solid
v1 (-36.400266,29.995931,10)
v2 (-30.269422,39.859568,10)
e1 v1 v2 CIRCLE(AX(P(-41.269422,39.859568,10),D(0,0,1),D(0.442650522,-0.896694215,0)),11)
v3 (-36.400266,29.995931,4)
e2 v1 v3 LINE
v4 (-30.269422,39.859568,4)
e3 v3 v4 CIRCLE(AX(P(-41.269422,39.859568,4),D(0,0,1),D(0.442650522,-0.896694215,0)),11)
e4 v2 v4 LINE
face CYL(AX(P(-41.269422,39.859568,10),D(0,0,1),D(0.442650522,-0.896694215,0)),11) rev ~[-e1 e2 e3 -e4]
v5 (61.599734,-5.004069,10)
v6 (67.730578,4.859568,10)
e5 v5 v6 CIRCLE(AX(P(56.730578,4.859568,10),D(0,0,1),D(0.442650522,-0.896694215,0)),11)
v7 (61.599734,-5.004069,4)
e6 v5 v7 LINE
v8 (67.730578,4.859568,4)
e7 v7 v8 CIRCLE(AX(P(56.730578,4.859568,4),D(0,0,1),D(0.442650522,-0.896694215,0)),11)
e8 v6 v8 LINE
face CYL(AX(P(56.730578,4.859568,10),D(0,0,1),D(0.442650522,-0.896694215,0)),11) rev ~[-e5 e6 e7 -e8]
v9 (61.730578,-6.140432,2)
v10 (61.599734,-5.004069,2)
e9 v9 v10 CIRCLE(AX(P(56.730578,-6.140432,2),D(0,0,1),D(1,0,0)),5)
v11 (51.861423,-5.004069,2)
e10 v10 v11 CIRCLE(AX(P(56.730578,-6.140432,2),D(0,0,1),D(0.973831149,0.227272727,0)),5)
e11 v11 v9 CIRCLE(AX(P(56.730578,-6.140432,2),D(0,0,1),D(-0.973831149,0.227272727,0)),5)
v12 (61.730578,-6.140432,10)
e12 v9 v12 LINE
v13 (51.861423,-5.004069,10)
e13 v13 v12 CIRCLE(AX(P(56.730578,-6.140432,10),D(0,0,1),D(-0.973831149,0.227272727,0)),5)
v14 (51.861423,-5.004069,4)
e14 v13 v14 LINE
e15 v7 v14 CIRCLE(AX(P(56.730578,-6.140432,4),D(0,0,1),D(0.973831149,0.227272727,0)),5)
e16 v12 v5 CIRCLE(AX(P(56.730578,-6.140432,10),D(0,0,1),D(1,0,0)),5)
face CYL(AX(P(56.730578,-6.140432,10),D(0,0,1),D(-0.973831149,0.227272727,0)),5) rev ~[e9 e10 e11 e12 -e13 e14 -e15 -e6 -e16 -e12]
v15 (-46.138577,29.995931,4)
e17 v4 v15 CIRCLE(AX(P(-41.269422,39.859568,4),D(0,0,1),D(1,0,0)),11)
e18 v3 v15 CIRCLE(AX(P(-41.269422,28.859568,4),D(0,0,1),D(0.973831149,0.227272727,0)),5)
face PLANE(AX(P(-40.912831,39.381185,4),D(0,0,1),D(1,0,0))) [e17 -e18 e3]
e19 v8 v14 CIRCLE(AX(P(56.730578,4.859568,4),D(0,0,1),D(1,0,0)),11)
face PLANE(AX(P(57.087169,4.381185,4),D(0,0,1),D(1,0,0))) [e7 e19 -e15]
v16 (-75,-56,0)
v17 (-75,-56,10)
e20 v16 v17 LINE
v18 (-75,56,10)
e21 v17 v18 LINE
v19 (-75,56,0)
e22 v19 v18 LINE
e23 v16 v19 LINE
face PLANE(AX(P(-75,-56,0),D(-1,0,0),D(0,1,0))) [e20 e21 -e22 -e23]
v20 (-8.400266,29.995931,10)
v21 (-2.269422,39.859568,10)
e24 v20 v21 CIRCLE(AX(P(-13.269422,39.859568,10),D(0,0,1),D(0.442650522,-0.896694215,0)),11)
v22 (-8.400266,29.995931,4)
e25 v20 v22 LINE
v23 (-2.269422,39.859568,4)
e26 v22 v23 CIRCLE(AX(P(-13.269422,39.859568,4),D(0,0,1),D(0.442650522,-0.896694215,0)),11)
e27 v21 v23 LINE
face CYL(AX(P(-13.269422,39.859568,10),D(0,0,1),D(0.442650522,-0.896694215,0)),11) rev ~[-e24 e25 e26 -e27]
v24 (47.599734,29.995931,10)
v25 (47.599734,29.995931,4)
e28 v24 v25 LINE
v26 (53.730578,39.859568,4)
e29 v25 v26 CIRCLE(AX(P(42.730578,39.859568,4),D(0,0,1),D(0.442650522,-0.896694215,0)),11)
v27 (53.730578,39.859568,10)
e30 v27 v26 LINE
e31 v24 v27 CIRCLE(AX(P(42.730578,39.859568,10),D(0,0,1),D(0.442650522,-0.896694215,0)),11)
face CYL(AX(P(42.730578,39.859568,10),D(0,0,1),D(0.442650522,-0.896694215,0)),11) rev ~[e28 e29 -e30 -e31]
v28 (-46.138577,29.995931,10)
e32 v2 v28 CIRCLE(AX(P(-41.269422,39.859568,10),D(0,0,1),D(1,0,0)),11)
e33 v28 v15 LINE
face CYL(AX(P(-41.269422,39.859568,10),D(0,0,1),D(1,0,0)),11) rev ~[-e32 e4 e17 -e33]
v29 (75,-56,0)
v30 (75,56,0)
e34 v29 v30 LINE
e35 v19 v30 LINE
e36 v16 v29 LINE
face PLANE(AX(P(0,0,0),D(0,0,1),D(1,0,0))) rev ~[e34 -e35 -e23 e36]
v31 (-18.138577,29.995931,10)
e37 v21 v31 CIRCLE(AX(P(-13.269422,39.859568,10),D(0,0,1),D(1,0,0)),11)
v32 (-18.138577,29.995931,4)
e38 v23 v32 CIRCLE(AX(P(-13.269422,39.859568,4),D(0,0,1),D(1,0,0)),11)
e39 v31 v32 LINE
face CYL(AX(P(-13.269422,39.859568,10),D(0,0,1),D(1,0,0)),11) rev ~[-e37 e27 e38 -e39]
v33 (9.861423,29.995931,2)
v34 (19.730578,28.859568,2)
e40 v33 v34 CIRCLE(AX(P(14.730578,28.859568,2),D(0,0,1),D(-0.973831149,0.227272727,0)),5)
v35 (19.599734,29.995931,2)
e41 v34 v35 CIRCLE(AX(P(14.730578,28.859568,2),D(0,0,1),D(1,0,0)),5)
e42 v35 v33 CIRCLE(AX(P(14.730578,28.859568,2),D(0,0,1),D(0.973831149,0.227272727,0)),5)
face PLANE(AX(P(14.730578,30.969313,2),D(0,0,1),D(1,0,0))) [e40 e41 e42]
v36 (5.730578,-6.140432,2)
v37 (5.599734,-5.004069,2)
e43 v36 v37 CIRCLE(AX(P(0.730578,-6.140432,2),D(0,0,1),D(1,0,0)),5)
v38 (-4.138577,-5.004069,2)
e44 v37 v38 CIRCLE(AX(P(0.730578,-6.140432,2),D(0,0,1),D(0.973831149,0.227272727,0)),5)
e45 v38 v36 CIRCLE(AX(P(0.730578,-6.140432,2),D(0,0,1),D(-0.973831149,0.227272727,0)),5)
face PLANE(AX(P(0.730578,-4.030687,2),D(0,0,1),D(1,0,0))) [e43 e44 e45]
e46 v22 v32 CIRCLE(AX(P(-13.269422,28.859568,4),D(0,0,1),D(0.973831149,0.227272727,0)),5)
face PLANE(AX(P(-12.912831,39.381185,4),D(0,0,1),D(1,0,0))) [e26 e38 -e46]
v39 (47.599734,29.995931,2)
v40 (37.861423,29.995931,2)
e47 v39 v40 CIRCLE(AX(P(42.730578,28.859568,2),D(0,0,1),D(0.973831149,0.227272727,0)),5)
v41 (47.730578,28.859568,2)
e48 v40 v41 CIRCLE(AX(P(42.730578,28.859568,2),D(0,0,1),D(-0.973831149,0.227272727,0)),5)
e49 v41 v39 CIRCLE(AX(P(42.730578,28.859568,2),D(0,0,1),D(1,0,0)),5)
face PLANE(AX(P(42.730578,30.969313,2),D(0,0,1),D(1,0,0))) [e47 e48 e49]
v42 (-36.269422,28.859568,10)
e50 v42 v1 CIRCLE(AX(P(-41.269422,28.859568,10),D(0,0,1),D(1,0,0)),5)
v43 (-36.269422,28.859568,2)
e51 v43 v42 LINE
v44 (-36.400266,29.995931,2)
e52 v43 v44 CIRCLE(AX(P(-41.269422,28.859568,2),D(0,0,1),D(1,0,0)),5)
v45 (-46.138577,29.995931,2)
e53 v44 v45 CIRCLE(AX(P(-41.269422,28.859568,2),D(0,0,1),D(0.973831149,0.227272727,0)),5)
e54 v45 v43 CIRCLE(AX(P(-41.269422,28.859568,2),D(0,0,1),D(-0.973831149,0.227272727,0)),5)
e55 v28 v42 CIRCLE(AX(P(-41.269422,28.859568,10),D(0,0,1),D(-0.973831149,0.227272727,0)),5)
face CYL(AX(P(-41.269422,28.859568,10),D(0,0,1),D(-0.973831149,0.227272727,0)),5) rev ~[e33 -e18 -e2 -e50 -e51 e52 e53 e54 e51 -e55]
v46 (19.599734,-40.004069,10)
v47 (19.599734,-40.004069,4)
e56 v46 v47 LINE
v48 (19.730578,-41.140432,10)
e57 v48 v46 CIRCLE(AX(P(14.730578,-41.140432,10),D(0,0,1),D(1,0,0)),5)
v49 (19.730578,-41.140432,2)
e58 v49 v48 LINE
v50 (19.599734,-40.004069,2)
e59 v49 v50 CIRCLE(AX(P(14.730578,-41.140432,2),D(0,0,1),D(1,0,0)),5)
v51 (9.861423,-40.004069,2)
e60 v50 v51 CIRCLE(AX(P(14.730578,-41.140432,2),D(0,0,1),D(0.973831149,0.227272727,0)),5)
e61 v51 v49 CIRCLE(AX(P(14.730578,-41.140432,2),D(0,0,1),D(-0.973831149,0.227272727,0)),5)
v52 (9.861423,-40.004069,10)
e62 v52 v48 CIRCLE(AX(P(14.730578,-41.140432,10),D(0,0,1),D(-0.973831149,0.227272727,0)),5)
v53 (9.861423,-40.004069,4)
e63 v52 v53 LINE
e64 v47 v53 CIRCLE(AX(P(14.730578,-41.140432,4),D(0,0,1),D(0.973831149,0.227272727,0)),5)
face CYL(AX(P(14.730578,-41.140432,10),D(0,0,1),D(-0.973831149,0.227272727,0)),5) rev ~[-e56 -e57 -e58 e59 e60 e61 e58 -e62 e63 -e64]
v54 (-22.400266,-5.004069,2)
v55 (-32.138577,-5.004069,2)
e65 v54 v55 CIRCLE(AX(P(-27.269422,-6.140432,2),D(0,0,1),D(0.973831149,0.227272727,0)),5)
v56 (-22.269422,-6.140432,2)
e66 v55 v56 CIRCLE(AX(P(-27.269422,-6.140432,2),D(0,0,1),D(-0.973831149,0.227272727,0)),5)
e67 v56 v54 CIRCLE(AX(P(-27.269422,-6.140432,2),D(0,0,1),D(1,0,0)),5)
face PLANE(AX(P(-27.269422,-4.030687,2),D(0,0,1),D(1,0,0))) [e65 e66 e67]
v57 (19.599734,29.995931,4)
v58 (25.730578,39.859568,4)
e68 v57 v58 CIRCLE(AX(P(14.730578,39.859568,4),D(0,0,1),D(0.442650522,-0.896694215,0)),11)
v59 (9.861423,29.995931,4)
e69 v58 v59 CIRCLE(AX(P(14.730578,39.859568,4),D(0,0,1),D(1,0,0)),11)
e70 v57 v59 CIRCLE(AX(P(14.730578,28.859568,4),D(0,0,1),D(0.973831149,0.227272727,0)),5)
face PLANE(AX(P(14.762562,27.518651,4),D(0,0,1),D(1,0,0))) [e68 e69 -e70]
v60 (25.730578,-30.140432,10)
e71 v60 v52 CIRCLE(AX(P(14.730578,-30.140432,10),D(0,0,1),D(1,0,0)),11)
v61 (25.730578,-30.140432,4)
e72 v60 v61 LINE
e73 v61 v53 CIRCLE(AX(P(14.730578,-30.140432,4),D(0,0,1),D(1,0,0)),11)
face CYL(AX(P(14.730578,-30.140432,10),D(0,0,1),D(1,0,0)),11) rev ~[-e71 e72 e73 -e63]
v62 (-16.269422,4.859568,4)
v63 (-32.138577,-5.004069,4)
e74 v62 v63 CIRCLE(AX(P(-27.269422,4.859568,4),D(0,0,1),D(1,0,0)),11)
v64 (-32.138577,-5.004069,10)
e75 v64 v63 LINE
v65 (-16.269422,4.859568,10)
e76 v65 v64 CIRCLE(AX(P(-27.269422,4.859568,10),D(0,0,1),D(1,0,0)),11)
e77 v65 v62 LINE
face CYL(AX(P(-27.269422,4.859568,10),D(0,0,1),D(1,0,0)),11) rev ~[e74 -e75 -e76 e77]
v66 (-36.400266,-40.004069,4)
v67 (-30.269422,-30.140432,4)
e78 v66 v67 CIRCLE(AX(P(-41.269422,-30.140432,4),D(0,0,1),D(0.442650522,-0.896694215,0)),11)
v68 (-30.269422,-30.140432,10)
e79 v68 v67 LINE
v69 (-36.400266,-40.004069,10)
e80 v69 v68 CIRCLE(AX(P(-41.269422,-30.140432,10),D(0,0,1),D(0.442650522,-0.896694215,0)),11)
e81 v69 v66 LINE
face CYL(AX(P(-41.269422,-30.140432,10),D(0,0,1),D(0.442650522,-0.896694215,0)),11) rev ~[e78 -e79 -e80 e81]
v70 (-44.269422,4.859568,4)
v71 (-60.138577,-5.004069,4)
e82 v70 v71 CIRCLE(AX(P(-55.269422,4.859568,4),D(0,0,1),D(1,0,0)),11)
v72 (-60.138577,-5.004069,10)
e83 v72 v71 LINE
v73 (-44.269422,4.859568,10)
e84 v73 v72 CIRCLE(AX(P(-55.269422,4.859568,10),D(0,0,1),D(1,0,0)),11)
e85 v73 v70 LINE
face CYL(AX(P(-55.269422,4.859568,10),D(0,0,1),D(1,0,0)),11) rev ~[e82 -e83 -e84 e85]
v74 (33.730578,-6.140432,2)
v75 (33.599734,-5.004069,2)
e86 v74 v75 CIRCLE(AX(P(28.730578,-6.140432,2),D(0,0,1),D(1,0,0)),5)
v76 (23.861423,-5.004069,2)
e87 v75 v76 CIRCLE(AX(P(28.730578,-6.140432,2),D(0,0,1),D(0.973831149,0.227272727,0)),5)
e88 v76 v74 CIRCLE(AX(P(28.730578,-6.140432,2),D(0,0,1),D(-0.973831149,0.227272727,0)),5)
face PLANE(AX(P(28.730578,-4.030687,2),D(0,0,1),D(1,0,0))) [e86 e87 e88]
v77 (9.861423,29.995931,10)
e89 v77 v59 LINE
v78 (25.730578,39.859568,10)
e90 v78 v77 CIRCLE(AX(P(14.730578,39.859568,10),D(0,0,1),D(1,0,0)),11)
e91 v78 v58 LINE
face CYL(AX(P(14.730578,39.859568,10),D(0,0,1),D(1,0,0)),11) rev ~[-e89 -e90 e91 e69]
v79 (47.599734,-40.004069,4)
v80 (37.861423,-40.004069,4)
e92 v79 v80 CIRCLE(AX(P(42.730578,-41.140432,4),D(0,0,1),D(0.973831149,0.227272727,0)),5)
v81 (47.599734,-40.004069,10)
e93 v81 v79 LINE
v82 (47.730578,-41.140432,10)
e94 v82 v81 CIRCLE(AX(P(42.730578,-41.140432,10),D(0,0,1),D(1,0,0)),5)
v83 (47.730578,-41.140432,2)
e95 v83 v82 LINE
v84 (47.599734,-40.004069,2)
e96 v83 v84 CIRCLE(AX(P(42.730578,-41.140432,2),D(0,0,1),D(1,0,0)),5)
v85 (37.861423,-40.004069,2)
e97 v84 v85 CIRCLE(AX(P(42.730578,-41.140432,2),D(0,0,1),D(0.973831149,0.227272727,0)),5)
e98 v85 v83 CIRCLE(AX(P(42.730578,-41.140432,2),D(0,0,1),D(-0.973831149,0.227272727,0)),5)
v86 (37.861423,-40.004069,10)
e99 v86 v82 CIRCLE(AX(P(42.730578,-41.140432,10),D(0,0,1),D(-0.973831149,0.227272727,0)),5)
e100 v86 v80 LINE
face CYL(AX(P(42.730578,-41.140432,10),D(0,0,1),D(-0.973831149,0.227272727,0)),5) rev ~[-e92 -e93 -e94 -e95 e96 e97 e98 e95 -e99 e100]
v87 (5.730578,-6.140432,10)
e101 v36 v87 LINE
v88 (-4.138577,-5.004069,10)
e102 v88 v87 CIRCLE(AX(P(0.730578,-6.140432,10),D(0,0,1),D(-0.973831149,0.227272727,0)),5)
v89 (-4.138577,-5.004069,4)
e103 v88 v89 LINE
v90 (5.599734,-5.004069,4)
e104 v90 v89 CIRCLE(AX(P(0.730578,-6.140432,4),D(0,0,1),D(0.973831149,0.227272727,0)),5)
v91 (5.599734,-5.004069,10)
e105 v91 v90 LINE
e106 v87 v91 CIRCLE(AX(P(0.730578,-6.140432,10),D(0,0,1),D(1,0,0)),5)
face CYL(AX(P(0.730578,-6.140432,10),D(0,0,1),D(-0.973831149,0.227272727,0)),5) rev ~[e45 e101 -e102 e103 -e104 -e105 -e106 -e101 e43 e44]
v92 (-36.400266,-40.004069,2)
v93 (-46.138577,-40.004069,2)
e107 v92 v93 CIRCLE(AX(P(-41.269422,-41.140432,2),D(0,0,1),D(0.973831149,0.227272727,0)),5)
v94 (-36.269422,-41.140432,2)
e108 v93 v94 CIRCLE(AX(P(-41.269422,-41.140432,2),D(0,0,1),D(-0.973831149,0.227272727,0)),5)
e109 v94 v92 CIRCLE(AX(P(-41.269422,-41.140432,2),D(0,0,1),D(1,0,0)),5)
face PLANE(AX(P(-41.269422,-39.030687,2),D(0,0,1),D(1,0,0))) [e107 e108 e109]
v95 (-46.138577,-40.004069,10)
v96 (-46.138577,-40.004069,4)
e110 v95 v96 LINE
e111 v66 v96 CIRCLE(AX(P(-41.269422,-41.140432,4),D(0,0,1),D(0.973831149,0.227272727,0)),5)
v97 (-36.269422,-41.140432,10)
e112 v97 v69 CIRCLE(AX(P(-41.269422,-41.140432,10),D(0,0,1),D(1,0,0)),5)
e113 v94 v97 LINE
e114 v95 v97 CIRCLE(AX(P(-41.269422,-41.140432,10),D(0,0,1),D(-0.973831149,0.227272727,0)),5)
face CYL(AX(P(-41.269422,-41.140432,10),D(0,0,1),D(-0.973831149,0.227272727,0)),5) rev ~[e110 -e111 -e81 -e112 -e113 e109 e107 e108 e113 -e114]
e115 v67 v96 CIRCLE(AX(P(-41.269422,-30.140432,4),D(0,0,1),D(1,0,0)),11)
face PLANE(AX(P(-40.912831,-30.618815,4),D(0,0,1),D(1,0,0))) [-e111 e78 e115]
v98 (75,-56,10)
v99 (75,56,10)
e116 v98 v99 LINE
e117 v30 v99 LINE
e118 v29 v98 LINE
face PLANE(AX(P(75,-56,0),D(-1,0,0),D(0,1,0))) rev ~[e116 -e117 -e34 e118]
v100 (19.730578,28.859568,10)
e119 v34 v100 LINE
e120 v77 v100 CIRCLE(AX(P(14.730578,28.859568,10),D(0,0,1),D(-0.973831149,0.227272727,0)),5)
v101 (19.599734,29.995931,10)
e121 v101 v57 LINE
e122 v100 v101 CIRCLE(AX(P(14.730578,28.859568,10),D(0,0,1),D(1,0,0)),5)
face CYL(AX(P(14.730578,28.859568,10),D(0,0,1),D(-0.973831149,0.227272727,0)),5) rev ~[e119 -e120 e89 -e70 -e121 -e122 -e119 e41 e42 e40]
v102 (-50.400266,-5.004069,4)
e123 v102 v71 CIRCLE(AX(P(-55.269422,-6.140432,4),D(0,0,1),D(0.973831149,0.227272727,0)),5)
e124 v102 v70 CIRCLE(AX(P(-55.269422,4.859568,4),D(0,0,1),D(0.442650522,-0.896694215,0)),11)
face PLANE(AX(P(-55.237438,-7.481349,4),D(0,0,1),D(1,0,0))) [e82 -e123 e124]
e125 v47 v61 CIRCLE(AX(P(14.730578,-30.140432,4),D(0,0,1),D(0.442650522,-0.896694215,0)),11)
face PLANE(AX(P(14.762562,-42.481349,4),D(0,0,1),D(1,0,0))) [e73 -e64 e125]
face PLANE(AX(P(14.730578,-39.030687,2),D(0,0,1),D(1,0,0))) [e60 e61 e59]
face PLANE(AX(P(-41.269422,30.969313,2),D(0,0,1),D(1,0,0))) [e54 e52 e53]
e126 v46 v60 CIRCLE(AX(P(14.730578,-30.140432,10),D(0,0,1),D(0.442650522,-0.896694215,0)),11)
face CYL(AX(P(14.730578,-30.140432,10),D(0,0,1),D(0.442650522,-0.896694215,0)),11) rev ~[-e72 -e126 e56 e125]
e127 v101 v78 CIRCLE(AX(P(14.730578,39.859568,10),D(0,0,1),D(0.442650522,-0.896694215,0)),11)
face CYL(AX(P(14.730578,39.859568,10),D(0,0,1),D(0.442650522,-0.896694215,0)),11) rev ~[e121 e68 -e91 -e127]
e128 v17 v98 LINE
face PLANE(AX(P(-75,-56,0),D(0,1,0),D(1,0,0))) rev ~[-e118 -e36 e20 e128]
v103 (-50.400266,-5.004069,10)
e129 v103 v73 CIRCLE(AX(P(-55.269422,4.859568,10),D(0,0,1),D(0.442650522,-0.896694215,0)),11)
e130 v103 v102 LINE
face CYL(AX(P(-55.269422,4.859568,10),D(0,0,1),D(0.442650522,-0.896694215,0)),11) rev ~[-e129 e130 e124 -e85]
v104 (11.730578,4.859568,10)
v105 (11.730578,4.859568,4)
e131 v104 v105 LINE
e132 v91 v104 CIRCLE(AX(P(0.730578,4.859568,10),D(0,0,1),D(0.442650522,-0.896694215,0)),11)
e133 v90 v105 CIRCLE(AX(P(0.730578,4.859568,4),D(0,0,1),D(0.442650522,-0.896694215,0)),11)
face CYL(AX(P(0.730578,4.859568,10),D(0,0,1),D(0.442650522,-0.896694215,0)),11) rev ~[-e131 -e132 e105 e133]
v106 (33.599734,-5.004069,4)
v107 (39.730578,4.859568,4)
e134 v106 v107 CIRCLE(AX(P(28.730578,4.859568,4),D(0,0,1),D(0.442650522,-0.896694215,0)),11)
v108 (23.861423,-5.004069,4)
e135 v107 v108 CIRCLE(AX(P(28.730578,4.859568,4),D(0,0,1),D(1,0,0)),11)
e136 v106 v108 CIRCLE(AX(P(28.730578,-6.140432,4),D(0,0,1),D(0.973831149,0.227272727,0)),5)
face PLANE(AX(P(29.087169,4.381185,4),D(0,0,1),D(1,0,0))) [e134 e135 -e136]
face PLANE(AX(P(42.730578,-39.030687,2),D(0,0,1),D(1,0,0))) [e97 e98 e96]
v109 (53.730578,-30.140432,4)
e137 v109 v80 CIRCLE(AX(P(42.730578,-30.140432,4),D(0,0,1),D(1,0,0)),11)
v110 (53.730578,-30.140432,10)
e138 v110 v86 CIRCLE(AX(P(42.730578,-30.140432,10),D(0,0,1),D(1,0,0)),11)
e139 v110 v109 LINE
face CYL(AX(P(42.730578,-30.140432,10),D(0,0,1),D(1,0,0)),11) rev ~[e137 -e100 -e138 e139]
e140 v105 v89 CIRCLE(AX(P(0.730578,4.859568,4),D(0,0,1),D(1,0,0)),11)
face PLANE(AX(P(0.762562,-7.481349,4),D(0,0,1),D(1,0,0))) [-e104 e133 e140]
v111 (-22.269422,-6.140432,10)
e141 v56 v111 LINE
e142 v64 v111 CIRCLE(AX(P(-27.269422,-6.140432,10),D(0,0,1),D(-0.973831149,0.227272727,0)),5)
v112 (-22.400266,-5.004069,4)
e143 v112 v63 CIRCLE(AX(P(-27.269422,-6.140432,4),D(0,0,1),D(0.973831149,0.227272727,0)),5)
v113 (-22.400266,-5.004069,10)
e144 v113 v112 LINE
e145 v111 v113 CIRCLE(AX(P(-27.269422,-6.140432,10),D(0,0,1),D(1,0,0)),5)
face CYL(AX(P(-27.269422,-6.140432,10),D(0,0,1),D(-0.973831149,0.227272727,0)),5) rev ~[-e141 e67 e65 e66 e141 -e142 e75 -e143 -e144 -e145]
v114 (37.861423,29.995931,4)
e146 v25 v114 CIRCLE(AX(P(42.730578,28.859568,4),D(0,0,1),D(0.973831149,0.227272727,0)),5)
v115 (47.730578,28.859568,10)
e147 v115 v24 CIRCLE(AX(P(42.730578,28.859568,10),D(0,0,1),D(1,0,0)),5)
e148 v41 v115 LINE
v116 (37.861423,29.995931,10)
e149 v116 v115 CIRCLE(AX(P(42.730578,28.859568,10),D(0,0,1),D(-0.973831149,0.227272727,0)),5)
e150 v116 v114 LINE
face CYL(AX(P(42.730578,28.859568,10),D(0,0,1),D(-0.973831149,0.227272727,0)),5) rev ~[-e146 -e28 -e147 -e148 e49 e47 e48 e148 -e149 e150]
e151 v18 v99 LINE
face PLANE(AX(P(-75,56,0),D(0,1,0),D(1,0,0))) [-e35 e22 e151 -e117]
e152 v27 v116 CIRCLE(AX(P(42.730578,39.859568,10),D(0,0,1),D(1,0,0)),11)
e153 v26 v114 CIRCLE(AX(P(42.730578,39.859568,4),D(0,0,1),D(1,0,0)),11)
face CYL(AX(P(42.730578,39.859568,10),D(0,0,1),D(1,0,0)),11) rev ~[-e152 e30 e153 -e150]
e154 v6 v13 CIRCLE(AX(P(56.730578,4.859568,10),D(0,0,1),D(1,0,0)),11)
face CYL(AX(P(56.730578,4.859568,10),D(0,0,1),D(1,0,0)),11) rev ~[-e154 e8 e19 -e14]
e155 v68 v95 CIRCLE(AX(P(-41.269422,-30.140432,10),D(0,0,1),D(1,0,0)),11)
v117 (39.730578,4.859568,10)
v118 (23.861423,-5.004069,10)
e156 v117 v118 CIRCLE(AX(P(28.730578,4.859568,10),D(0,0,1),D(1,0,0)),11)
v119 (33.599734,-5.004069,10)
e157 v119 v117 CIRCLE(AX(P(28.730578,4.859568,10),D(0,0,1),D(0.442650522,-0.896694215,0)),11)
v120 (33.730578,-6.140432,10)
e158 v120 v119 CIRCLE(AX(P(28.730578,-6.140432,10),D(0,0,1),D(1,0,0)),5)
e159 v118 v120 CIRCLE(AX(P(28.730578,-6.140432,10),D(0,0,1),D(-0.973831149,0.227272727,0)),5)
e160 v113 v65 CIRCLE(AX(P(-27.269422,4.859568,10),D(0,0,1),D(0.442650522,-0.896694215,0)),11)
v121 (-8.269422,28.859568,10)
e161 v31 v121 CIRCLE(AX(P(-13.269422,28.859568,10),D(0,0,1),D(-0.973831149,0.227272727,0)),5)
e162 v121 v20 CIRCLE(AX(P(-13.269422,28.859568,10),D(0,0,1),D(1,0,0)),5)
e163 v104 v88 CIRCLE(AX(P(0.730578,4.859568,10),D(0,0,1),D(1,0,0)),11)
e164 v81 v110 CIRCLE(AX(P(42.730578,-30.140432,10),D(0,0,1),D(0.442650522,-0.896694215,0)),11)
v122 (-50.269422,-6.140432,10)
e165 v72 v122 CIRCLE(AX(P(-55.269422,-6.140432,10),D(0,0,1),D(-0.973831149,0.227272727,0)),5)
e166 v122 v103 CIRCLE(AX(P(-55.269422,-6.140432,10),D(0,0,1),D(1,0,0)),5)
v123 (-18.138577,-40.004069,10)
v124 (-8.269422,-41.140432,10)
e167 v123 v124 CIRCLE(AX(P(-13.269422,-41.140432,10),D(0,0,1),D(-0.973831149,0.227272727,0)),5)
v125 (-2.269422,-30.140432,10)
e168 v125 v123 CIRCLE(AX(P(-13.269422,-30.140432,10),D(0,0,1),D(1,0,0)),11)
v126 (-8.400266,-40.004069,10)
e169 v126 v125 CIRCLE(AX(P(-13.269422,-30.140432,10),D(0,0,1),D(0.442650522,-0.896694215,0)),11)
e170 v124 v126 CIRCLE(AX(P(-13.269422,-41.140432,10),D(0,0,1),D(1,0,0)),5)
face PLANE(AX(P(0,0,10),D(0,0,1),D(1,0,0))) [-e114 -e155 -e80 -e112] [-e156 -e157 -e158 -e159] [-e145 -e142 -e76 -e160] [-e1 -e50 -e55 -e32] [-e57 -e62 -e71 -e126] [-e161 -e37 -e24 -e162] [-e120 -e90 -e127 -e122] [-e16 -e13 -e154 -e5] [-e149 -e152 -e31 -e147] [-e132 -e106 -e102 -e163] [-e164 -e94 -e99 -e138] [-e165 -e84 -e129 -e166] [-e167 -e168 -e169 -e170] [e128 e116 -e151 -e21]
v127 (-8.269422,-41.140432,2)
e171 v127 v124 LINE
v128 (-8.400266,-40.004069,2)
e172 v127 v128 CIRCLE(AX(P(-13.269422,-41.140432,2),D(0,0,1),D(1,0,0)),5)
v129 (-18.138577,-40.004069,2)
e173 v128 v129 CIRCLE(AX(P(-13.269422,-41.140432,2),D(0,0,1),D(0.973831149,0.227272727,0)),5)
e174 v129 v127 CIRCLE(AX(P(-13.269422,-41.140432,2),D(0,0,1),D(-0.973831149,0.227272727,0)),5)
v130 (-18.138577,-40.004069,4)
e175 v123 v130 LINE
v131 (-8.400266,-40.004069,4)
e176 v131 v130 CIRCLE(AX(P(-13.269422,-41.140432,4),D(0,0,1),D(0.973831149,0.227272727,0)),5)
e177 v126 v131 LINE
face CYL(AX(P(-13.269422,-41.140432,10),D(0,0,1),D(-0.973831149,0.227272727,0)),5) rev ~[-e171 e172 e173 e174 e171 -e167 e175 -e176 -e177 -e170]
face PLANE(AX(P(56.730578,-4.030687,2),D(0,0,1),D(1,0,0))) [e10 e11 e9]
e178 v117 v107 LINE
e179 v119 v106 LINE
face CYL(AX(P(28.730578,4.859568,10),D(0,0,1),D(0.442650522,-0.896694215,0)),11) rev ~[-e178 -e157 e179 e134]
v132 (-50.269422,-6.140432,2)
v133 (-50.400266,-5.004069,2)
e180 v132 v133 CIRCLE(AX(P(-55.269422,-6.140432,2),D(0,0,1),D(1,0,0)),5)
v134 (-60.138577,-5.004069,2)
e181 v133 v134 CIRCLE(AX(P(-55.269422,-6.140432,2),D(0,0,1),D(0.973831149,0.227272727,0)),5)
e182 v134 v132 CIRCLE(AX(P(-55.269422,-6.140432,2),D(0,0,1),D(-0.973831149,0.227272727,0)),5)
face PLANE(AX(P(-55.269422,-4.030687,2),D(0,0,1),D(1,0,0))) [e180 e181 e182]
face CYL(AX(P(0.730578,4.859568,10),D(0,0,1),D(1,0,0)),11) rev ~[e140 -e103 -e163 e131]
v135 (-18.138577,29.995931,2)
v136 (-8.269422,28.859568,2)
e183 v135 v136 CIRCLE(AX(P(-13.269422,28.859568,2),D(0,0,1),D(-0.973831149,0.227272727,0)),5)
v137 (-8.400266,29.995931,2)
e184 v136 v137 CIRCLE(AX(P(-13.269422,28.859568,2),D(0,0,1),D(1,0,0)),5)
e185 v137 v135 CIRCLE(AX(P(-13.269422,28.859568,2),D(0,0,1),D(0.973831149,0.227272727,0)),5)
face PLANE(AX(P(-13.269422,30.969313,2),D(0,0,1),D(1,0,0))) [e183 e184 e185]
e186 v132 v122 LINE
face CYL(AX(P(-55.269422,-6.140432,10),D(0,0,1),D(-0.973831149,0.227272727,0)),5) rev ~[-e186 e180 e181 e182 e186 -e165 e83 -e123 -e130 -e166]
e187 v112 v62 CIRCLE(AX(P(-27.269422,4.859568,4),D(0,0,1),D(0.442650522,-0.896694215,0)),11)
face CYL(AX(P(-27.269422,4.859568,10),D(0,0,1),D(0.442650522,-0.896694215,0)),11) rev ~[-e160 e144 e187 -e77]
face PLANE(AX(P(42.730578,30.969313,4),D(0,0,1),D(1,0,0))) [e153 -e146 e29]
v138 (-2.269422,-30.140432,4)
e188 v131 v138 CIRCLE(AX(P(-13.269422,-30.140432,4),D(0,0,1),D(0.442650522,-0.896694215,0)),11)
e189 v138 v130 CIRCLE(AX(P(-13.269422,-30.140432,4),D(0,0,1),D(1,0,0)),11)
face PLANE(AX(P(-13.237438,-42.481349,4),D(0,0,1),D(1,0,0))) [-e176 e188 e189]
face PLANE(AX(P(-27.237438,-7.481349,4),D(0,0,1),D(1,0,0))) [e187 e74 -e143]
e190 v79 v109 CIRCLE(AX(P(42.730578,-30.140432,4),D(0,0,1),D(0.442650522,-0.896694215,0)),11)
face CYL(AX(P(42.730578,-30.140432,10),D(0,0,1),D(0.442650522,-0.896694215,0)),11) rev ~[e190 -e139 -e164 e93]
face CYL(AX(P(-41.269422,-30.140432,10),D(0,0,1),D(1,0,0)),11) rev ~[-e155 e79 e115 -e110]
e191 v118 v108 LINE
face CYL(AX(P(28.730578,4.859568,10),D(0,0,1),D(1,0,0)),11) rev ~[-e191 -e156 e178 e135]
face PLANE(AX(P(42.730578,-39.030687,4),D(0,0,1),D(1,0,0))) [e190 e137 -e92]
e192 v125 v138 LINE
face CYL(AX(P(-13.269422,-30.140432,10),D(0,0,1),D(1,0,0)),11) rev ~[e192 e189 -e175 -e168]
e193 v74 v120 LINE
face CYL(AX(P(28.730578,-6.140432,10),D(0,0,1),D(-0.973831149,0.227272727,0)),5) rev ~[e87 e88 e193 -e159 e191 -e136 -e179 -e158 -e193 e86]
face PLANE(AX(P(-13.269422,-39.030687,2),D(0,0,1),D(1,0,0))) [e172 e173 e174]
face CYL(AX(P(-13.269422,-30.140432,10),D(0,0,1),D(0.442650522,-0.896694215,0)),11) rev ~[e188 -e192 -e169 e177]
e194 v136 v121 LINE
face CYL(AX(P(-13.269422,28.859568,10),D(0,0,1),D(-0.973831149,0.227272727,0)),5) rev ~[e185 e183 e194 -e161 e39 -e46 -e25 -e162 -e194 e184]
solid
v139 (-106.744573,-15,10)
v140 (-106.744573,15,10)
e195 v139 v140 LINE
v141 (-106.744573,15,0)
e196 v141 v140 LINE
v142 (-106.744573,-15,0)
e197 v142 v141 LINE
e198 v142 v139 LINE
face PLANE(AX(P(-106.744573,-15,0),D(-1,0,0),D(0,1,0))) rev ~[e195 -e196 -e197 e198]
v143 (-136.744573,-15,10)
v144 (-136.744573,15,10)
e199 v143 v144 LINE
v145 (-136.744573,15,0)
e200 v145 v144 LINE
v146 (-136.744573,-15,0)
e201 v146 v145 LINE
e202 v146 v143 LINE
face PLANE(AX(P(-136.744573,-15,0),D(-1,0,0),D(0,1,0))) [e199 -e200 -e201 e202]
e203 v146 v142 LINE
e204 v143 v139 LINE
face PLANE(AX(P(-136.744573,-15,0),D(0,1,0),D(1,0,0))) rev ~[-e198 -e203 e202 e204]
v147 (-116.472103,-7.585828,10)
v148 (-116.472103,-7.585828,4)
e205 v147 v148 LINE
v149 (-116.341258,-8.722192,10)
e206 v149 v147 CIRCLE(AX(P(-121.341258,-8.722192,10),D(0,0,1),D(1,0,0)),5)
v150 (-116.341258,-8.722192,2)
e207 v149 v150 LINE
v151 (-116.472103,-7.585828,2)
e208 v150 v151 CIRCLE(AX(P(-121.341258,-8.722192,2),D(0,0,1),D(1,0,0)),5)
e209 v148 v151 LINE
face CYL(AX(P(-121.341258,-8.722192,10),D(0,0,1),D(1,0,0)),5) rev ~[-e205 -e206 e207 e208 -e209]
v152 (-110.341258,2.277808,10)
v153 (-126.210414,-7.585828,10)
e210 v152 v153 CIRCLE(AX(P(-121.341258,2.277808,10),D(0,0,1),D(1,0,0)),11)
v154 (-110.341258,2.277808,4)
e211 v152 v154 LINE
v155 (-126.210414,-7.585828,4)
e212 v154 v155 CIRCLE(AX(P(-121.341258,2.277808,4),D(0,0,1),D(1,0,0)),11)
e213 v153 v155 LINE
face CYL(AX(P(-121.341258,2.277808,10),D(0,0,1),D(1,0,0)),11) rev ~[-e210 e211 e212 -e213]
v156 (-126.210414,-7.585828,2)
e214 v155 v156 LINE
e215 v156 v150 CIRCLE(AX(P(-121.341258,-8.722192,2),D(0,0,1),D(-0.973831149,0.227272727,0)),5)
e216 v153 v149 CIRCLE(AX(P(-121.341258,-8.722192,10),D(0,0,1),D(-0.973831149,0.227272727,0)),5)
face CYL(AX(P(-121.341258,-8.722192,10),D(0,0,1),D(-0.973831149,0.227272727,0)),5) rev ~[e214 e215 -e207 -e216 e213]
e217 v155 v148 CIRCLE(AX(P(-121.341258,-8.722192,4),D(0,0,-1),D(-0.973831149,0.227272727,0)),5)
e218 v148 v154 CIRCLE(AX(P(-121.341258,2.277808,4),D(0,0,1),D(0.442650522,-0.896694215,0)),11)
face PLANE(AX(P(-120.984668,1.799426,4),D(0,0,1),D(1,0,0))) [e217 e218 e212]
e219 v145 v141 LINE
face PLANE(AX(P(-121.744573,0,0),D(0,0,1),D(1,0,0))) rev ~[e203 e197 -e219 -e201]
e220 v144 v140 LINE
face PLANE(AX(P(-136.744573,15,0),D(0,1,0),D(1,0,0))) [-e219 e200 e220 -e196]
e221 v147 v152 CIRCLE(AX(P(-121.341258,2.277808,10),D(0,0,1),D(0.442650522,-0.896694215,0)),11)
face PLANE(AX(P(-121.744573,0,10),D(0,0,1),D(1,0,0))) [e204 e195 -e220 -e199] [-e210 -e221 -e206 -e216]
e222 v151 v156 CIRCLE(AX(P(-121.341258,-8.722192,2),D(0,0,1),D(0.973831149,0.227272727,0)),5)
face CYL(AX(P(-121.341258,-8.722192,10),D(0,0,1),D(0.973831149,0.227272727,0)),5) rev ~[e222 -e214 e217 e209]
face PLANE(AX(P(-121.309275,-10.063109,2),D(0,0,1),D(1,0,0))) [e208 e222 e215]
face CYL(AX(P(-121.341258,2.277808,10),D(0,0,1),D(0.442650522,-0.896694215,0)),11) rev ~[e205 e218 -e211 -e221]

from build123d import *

# Parameters (mm, degrees)
F0_W     = 150
F0_H     = 112
F1_DEPTH = 10
F3_DEPTH = 6
F4_DEPTH = 8
F0_W_2   = 30
F0_H_2   = 30
F5_DEPTH = 10
F7_DEPTH = 6
F8_DEPTH = 8


with BuildPart() as f1:
    # F0 (on Top) → F1 (new body)
    with BuildSketch(Plane.XY):
        Rectangle(F0_W, F0_H)
    extrude(amount=F1_DEPTH)

    # F2 (on face) → F3 (cut)
    with BuildSketch(Plane.XY.offset(10)):
        with BuildLine():
            ThreePointArc((-36.4002658779, -40.0040686741), (-31.9270259679, -35.9472940613), (-30.2694216247, -30.1404323104))
            ThreePointArc((-30.2694216247, -30.1404323104), (-47.0762833755, -20.7980366537), (-46.1385773714, -40.0040686741))
            ThreePointArc((-46.1385773714, -40.0040686741), (-41.2694216247, -36.1404323104), (-36.4002658779, -40.0040686741))
        make_face()
        with BuildLine():
            ThreePointArc((19.5997341221, -40.0040686741), (14.7305783753, -41.1404323104), (9.8614226286, -40.0040686741))
            ThreePointArc((9.8614226286, -40.0040686741), (14.1586425108, -46.10761354), (19.7305783753, -41.1404323104))
            ThreePointArc((19.7305783753, -41.1404323104), (19.6977596048, -40.5684964459), (19.5997341221, -40.0040686741))
        make_face()
        with BuildLine():
            ThreePointArc((47.5997341221, -40.0040686741), (42.7305783753, -36.1404323104), (37.8614226286, -40.0040686741))
            ThreePointArc((37.8614226286, -40.0040686741), (42.7305783753, -41.1404323104), (47.5997341221, -40.0040686741))
        make_face()
        with BuildLine():
            ThreePointArc((-36.4002658779, 29.9959313259), (-31.9270259679, 34.0527059387), (-30.2694216247, 39.8595676896))
            ThreePointArc((-30.2694216247, 39.8595676896), (-47.0762833755, 49.2019633463), (-46.1385773714, 29.9959313259))
            ThreePointArc((-46.1385773714, 29.9959313259), (-41.2694216247, 33.8595676896), (-36.4002658779, 29.9959313259))
        make_face()
        with BuildLine():
            ThreePointArc((-8.4002658779, -40.0040686741), (-13.2694216247, -41.1404323104), (-18.1385773714, -40.0040686741))
            ThreePointArc((-18.1385773714, -40.0040686741), (-13.8413574892, -46.10761354), (-8.2694216247, -41.1404323104))
            ThreePointArc((-8.2694216247, -41.1404323104), (-8.3022403952, -40.5684964459), (-8.4002658779, -40.0040686741))
        make_face()
        with BuildLine():
            ThreePointArc((-22.4002658779, -5.0040686741), (-27.2694216247, -6.1404323104), (-32.1385773714, -5.0040686741))
            ThreePointArc((-32.1385773714, -5.0040686741), (-27.8413574892, -11.10761354), (-22.2694216247, -6.1404323104))
            ThreePointArc((-22.2694216247, -6.1404323104), (-22.3022403952, -5.5684964459), (-22.4002658779, -5.0040686741))
        make_face()
        with BuildLine():
            ThreePointArc((47.5997341221, 29.9959313259), (42.7305783753, 33.8595676896), (37.8614226286, 29.9959313259))
            ThreePointArc((37.8614226286, 29.9959313259), (42.7305783753, 28.8595676896), (47.5997341221, 29.9959313259))
        make_face()
        with BuildLine():
            ThreePointArc((47.5997341221, -40.0040686741), (42.7305783753, -41.1404323104), (37.8614226286, -40.0040686741))
            ThreePointArc((37.8614226286, -40.0040686741), (42.1586425108, -46.10761354), (47.7305783753, -41.1404323104))
            ThreePointArc((47.7305783753, -41.1404323104), (47.6977596048, -40.5684964459), (47.5997341221, -40.0040686741))
        make_face()
        with BuildLine():
            ThreePointArc((61.5997341221, -5.0040686741), (66.0729740321, -0.9472940613), (67.7305783753, 4.8595676896))
            ThreePointArc((67.7305783753, 4.8595676896), (50.9237166245, 14.2019633463), (51.8614226286, -5.0040686741))
            ThreePointArc((51.8614226286, -5.0040686741), (56.7305783753, -1.1404323104), (61.5997341221, -5.0040686741))
        make_face()
        with BuildLine():
            ThreePointArc((-36.4002658779, 29.9959313259), (-41.2694216247, 33.8595676896), (-46.1385773714, 29.9959313259))
            ThreePointArc((-46.1385773714, 29.9959313259), (-41.2694216247, 28.8595676896), (-36.4002658779, 29.9959313259))
        make_face()
        with BuildLine():
            ThreePointArc((61.5997341221, -5.0040686741), (56.7305783753, -1.1404323104), (51.8614226286, -5.0040686741))
            ThreePointArc((51.8614226286, -5.0040686741), (56.7305783753, -6.1404323104), (61.5997341221, -5.0040686741))
        make_face()
        with BuildLine():
            ThreePointArc((19.5997341221, -40.0040686741), (14.7305783753, -36.1404323104), (9.8614226286, -40.0040686741))
            ThreePointArc((9.8614226286, -40.0040686741), (14.7305783753, -41.1404323104), (19.5997341221, -40.0040686741))
        make_face()
        with BuildLine():
            ThreePointArc((-36.4002658779, -40.0040686741), (-41.2694216247, -41.1404323104), (-46.1385773714, -40.0040686741))
            ThreePointArc((-46.1385773714, -40.0040686741), (-41.8413574892, -46.10761354), (-36.2694216247, -41.1404323104))
            ThreePointArc((-36.2694216247, -41.1404323104), (-36.3022403952, -40.5684964459), (-36.4002658779, -40.0040686741))
        make_face()
        with BuildLine():
            ThreePointArc((33.5997341221, -5.0040686741), (38.0729740321, -0.9472940613), (39.7305783753, 4.8595676896))
            ThreePointArc((39.7305783753, 4.8595676896), (22.9237166245, 14.2019633463), (23.8614226286, -5.0040686741))
            ThreePointArc((23.8614226286, -5.0040686741), (28.7305783753, -1.1404323104), (33.5997341221, -5.0040686741))
        make_face()
        with BuildLine():
            ThreePointArc((-8.4002658779, -40.0040686741), (-13.2694216247, -36.1404323104), (-18.1385773714, -40.0040686741))
            ThreePointArc((-18.1385773714, -40.0040686741), (-13.2694216247, -41.1404323104), (-8.4002658779, -40.0040686741))
        make_face()
        with BuildLine():
            ThreePointArc((5.5997341221, -5.0040686741), (0.7305783753, -6.1404323104), (-4.1385773714, -5.0040686741))
            ThreePointArc((-4.1385773714, -5.0040686741), (0.1586425108, -11.10761354), (5.7305783753, -6.1404323104))
            ThreePointArc((5.7305783753, -6.1404323104), (5.6977596048, -5.5684964459), (5.5997341221, -5.0040686741))
        make_face()
        with BuildLine():
            ThreePointArc((-50.4002658779, -5.0040686741), (-55.2694216247, -6.1404323104), (-60.1385773714, -5.0040686741))
            ThreePointArc((-60.1385773714, -5.0040686741), (-55.8413574892, -11.10761354), (-50.2694216247, -6.1404323104))
            ThreePointArc((-50.2694216247, -6.1404323104), (-50.3022403952, -5.5684964459), (-50.4002658779, -5.0040686741))
        make_face()
        with BuildLine():
            ThreePointArc((-36.4002658779, 29.9959313259), (-41.2694216247, 28.8595676896), (-46.1385773714, 29.9959313259))
            ThreePointArc((-46.1385773714, 29.9959313259), (-41.8413574892, 23.89238646), (-36.2694216247, 28.8595676896))
            ThreePointArc((-36.2694216247, 28.8595676896), (-36.3022403952, 29.4315035541), (-36.4002658779, 29.9959313259))
        make_face()
        with BuildLine():
            ThreePointArc((19.5997341221, 29.9959313259), (14.7305783753, 28.8595676896), (9.8614226286, 29.9959313259))
            ThreePointArc((9.8614226286, 29.9959313259), (14.1586425108, 23.89238646), (19.7305783753, 28.8595676896))
            ThreePointArc((19.7305783753, 28.8595676896), (19.6977596048, 29.4315035541), (19.5997341221, 29.9959313259))
        make_face()
        with BuildLine():
            ThreePointArc((19.5997341221, 29.9959313259), (14.7305783753, 33.8595676896), (9.8614226286, 29.9959313259))
            ThreePointArc((9.8614226286, 29.9959313259), (14.7305783753, 28.8595676896), (19.5997341221, 29.9959313259))
        make_face()
        with BuildLine():
            ThreePointArc((5.5997341221, -5.0040686741), (10.0729740321, -0.9472940613), (11.7305783753, 4.8595676896))
            ThreePointArc((11.7305783753, 4.8595676896), (-5.0762833755, 14.2019633463), (-4.1385773714, -5.0040686741))
            ThreePointArc((-4.1385773714, -5.0040686741), (0.7305783753, -1.1404323104), (5.5997341221, -5.0040686741))
        make_face()
        with BuildLine():
            ThreePointArc((-50.4002658779, -5.0040686741), (-55.2694216247, -1.1404323104), (-60.1385773714, -5.0040686741))
            ThreePointArc((-60.1385773714, -5.0040686741), (-55.2694216247, -6.1404323104), (-50.4002658779, -5.0040686741))
        make_face()
        with BuildLine():
            ThreePointArc((33.5997341221, -5.0040686741), (28.7305783753, -6.1404323104), (23.8614226286, -5.0040686741))
            ThreePointArc((23.8614226286, -5.0040686741), (28.1586425108, -11.10761354), (33.7305783753, -6.1404323104))
            ThreePointArc((33.7305783753, -6.1404323104), (33.6977596048, -5.5684964459), (33.5997341221, -5.0040686741))
        make_face()
        with BuildLine():
            ThreePointArc((33.5997341221, -5.0040686741), (28.7305783753, -1.1404323104), (23.8614226286, -5.0040686741))
            ThreePointArc((23.8614226286, -5.0040686741), (28.7305783753, -6.1404323104), (33.5997341221, -5.0040686741))
        make_face()
        with BuildLine():
            ThreePointArc((19.5997341221, 29.9959313259), (24.0729740321, 34.0527059387), (25.7305783753, 39.8595676896))
            ThreePointArc((25.7305783753, 39.8595676896), (8.9237166245, 49.2019633463), (9.8614226286, 29.9959313259))
            ThreePointArc((9.8614226286, 29.9959313259), (14.7305783753, 33.8595676896), (19.5997341221, 29.9959313259))
        make_face()
        with BuildLine():
            ThreePointArc((-8.4002658779, 29.9959313259), (-3.9270259679, 34.0527059387), (-2.2694216247, 39.8595676896))
            ThreePointArc((-2.2694216247, 39.8595676896), (-19.0762833755, 49.2019633463), (-18.1385773714, 29.9959313259))
            ThreePointArc((-18.1385773714, 29.9959313259), (-13.2694216247, 33.8595676896), (-8.4002658779, 29.9959313259))
        make_face()
        with BuildLine():
            ThreePointArc((47.5997341221, 29.9959313259), (42.7305783753, 28.8595676896), (37.8614226286, 29.9959313259))
            ThreePointArc((37.8614226286, 29.9959313259), (42.1586425108, 23.89238646), (47.7305783753, 28.8595676896))
            ThreePointArc((47.7305783753, 28.8595676896), (47.6977596048, 29.4315035541), (47.5997341221, 29.9959313259))
        make_face()
        with BuildLine():
            ThreePointArc((-8.4002658779, 29.9959313259), (-13.2694216247, 28.8595676896), (-18.1385773714, 29.9959313259))
            ThreePointArc((-18.1385773714, 29.9959313259), (-13.8413574892, 23.89238646), (-8.2694216247, 28.8595676896))
            ThreePointArc((-8.2694216247, 28.8595676896), (-8.3022403952, 29.4315035541), (-8.4002658779, 29.9959313259))
        make_face()
        with BuildLine():
            ThreePointArc((-8.4002658779, 29.9959313259), (-13.2694216247, 33.8595676896), (-18.1385773714, 29.9959313259))
            ThreePointArc((-18.1385773714, 29.9959313259), (-13.2694216247, 28.8595676896), (-8.4002658779, 29.9959313259))
        make_face()
        with BuildLine():
            ThreePointArc((47.5997341221, 29.9959313259), (52.0729740321, 34.0527059387), (53.7305783753, 39.8595676896))
            ThreePointArc((53.7305783753, 39.8595676896), (36.9237166245, 49.2019633463), (37.8614226286, 29.9959313259))
            ThreePointArc((37.8614226286, 29.9959313259), (42.7305783753, 33.8595676896), (47.5997341221, 29.9959313259))
        make_face()
        with BuildLine():
            ThreePointArc((19.5997341221, -40.0040686741), (24.0729740321, -35.9472940613), (25.7305783753, -30.1404323104))
            ThreePointArc((25.7305783753, -30.1404323104), (8.9237166245, -20.7980366537), (9.8614226286, -40.0040686741))
            ThreePointArc((9.8614226286, -40.0040686741), (14.7305783753, -36.1404323104), (19.5997341221, -40.0040686741))
        make_face()
        with BuildLine():
            ThreePointArc((47.5997341221, -40.0040686741), (52.0729740321, -35.9472940613), (53.7305783753, -30.1404323104))
            ThreePointArc((53.7305783753, -30.1404323104), (36.9237166245, -20.7980366537), (37.8614226286, -40.0040686741))
            ThreePointArc((37.8614226286, -40.0040686741), (42.7305783753, -36.1404323104), (47.5997341221, -40.0040686741))
        make_face()
        with BuildLine():
            ThreePointArc((-22.4002658779, -5.0040686741), (-17.9270259679, -0.9472940613), (-16.2694216247, 4.8595676896))
            ThreePointArc((-16.2694216247, 4.8595676896), (-33.0762833755, 14.2019633463), (-32.1385773714, -5.0040686741))
            ThreePointArc((-32.1385773714, -5.0040686741), (-27.2694216247, -1.1404323104), (-22.4002658779, -5.0040686741))
        make_face()
        with BuildLine():
            ThreePointArc((-36.4002658779, -40.0040686741), (-41.2694216247, -36.1404323104), (-46.1385773714, -40.0040686741))
            ThreePointArc((-46.1385773714, -40.0040686741), (-41.2694216247, -41.1404323104), (-36.4002658779, -40.0040686741))
        make_face()
        with BuildLine():
            ThreePointArc((-22.4002658779, -5.0040686741), (-27.2694216247, -1.1404323104), (-32.1385773714, -5.0040686741))
            ThreePointArc((-32.1385773714, -5.0040686741), (-27.2694216247, -6.1404323104), (-22.4002658779, -5.0040686741))
        make_face()
        with BuildLine():
            ThreePointArc((-8.4002658779, -40.0040686741), (-3.9270259679, -35.9472940613), (-2.2694216247, -30.1404323104))
            ThreePointArc((-2.2694216247, -30.1404323104), (-19.0762833755, -20.7980366537), (-18.1385773714, -40.0040686741))
            ThreePointArc((-18.1385773714, -40.0040686741), (-13.2694216247, -36.1404323104), (-8.4002658779, -40.0040686741))
        make_face()
        with BuildLine():
            ThreePointArc((-50.4002658779, -5.0040686741), (-45.9270259679, -0.9472940613), (-44.2694216247, 4.8595676896))
            ThreePointArc((-44.2694216247, 4.8595676896), (-61.0762833755, 14.2019633463), (-60.1385773714, -5.0040686741))
            ThreePointArc((-60.1385773714, -5.0040686741), (-55.2694216247, -1.1404323104), (-50.4002658779, -5.0040686741))
        make_face()
        with BuildLine():
            ThreePointArc((61.5997341221, -5.0040686741), (56.7305783753, -6.1404323104), (51.8614226286, -5.0040686741))
            ThreePointArc((51.8614226286, -5.0040686741), (56.1586425108, -11.10761354), (61.7305783753, -6.1404323104))
            ThreePointArc((61.7305783753, -6.1404323104), (61.6977596048, -5.5684964459), (61.5997341221, -5.0040686741))
        make_face()
        with BuildLine():
            ThreePointArc((5.5997341221, -5.0040686741), (0.7305783753, -1.1404323104), (-4.1385773714, -5.0040686741))
            ThreePointArc((-4.1385773714, -5.0040686741), (0.7305783753, -6.1404323104), (5.5997341221, -5.0040686741))
        make_face()
    extrude(amount=-F3_DEPTH, mode=Mode.SUBTRACT)

    # F2 (on face) → F4 (cut)
    with BuildSketch(Plane.XY.offset(10)):
        with BuildLine():
            ThreePointArc((-36.4002658779, 29.9959313259), (-41.2694216247, 33.8595676896), (-46.1385773714, 29.9959313259))
            ThreePointArc((-46.1385773714, 29.9959313259), (-41.2694216247, 28.8595676896), (-36.4002658779, 29.9959313259))
        make_face()
        with BuildLine():
            ThreePointArc((-36.4002658779, 29.9959313259), (-41.2694216247, 28.8595676896), (-46.1385773714, 29.9959313259))
            ThreePointArc((-46.1385773714, 29.9959313259), (-41.8413574892, 23.89238646), (-36.2694216247, 28.8595676896))
            ThreePointArc((-36.2694216247, 28.8595676896), (-36.3022403952, 29.4315035541), (-36.4002658779, 29.9959313259))
        make_face()
        with BuildLine():
            ThreePointArc((-8.4002658779, 29.9959313259), (-13.2694216247, 33.8595676896), (-18.1385773714, 29.9959313259))
            ThreePointArc((-18.1385773714, 29.9959313259), (-13.2694216247, 28.8595676896), (-8.4002658779, 29.9959313259))
        make_face()
        with BuildLine():
            ThreePointArc((-8.4002658779, 29.9959313259), (-13.2694216247, 28.8595676896), (-18.1385773714, 29.9959313259))
            ThreePointArc((-18.1385773714, 29.9959313259), (-13.8413574892, 23.89238646), (-8.2694216247, 28.8595676896))
            ThreePointArc((-8.2694216247, 28.8595676896), (-8.3022403952, 29.4315035541), (-8.4002658779, 29.9959313259))
        make_face()
        with BuildLine():
            ThreePointArc((19.5997341221, 29.9959313259), (14.7305783753, 33.8595676896), (9.8614226286, 29.9959313259))
            ThreePointArc((9.8614226286, 29.9959313259), (14.7305783753, 28.8595676896), (19.5997341221, 29.9959313259))
        make_face()
        with BuildLine():
            ThreePointArc((19.5997341221, 29.9959313259), (14.7305783753, 28.8595676896), (9.8614226286, 29.9959313259))
            ThreePointArc((9.8614226286, 29.9959313259), (14.1586425108, 23.89238646), (19.7305783753, 28.8595676896))
            ThreePointArc((19.7305783753, 28.8595676896), (19.6977596048, 29.4315035541), (19.5997341221, 29.9959313259))
        make_face()
        with BuildLine():
            ThreePointArc((47.5997341221, 29.9959313259), (42.7305783753, 33.8595676896), (37.8614226286, 29.9959313259))
            ThreePointArc((37.8614226286, 29.9959313259), (42.7305783753, 28.8595676896), (47.5997341221, 29.9959313259))
        make_face()
        with BuildLine():
            ThreePointArc((47.5997341221, 29.9959313259), (42.7305783753, 28.8595676896), (37.8614226286, 29.9959313259))
            ThreePointArc((37.8614226286, 29.9959313259), (42.1586425108, 23.89238646), (47.7305783753, 28.8595676896))
            ThreePointArc((47.7305783753, 28.8595676896), (47.6977596048, 29.4315035541), (47.5997341221, 29.9959313259))
        make_face()
        with BuildLine():
            ThreePointArc((-50.4002658779, -5.0040686741), (-55.2694216247, -1.1404323104), (-60.1385773714, -5.0040686741))
            ThreePointArc((-60.1385773714, -5.0040686741), (-55.2694216247, -6.1404323104), (-50.4002658779, -5.0040686741))
        make_face()
        with BuildLine():
            ThreePointArc((-50.4002658779, -5.0040686741), (-55.2694216247, -6.1404323104), (-60.1385773714, -5.0040686741))
            ThreePointArc((-60.1385773714, -5.0040686741), (-55.8413574892, -11.10761354), (-50.2694216247, -6.1404323104))
            ThreePointArc((-50.2694216247, -6.1404323104), (-50.3022403952, -5.5684964459), (-50.4002658779, -5.0040686741))
        make_face()
        with BuildLine():
            ThreePointArc((-22.4002658779, -5.0040686741), (-27.2694216247, -1.1404323104), (-32.1385773714, -5.0040686741))
            ThreePointArc((-32.1385773714, -5.0040686741), (-27.2694216247, -6.1404323104), (-22.4002658779, -5.0040686741))
        make_face()
        with BuildLine():
            ThreePointArc((-22.4002658779, -5.0040686741), (-27.2694216247, -6.1404323104), (-32.1385773714, -5.0040686741))
            ThreePointArc((-32.1385773714, -5.0040686741), (-27.8413574892, -11.10761354), (-22.2694216247, -6.1404323104))
            ThreePointArc((-22.2694216247, -6.1404323104), (-22.3022403952, -5.5684964459), (-22.4002658779, -5.0040686741))
        make_face()
        with BuildLine():
            ThreePointArc((5.5997341221, -5.0040686741), (0.7305783753, -1.1404323104), (-4.1385773714, -5.0040686741))
            ThreePointArc((-4.1385773714, -5.0040686741), (0.7305783753, -6.1404323104), (5.5997341221, -5.0040686741))
        make_face()
        with BuildLine():
            ThreePointArc((5.5997341221, -5.0040686741), (0.7305783753, -6.1404323104), (-4.1385773714, -5.0040686741))
            ThreePointArc((-4.1385773714, -5.0040686741), (0.1586425108, -11.10761354), (5.7305783753, -6.1404323104))
            ThreePointArc((5.7305783753, -6.1404323104), (5.6977596048, -5.5684964459), (5.5997341221, -5.0040686741))
        make_face()
        with BuildLine():
            ThreePointArc((33.5997341221, -5.0040686741), (28.7305783753, -1.1404323104), (23.8614226286, -5.0040686741))
            ThreePointArc((23.8614226286, -5.0040686741), (28.7305783753, -6.1404323104), (33.5997341221, -5.0040686741))
        make_face()
        with BuildLine():
            ThreePointArc((33.5997341221, -5.0040686741), (28.7305783753, -6.1404323104), (23.8614226286, -5.0040686741))
            ThreePointArc((23.8614226286, -5.0040686741), (28.1586425108, -11.10761354), (33.7305783753, -6.1404323104))
            ThreePointArc((33.7305783753, -6.1404323104), (33.6977596048, -5.5684964459), (33.5997341221, -5.0040686741))
        make_face()
        with BuildLine():
            ThreePointArc((61.5997341221, -5.0040686741), (56.7305783753, -1.1404323104), (51.8614226286, -5.0040686741))
            ThreePointArc((51.8614226286, -5.0040686741), (56.7305783753, -6.1404323104), (61.5997341221, -5.0040686741))
        make_face()
        with BuildLine():
            ThreePointArc((61.5997341221, -5.0040686741), (56.7305783753, -6.1404323104), (51.8614226286, -5.0040686741))
            ThreePointArc((51.8614226286, -5.0040686741), (56.1586425108, -11.10761354), (61.7305783753, -6.1404323104))
            ThreePointArc((61.7305783753, -6.1404323104), (61.6977596048, -5.5684964459), (61.5997341221, -5.0040686741))
        make_face()
        with BuildLine():
            ThreePointArc((-36.4002658779, -40.0040686741), (-41.2694216247, -36.1404323104), (-46.1385773714, -40.0040686741))
            ThreePointArc((-46.1385773714, -40.0040686741), (-41.2694216247, -41.1404323104), (-36.4002658779, -40.0040686741))
        make_face()
        with BuildLine():
            ThreePointArc((-36.4002658779, -40.0040686741), (-41.2694216247, -41.1404323104), (-46.1385773714, -40.0040686741))
            ThreePointArc((-46.1385773714, -40.0040686741), (-41.8413574892, -46.10761354), (-36.2694216247, -41.1404323104))
            ThreePointArc((-36.2694216247, -41.1404323104), (-36.3022403952, -40.5684964459), (-36.4002658779, -40.0040686741))
        make_face()
        with BuildLine():
            ThreePointArc((-8.4002658779, -40.0040686741), (-13.2694216247, -36.1404323104), (-18.1385773714, -40.0040686741))
            ThreePointArc((-18.1385773714, -40.0040686741), (-13.2694216247, -41.1404323104), (-8.4002658779, -40.0040686741))
        make_face()
        with BuildLine():
            ThreePointArc((-8.4002658779, -40.0040686741), (-13.2694216247, -41.1404323104), (-18.1385773714, -40.0040686741))
            ThreePointArc((-18.1385773714, -40.0040686741), (-13.8413574892, -46.10761354), (-8.2694216247, -41.1404323104))
            ThreePointArc((-8.2694216247, -41.1404323104), (-8.3022403952, -40.5684964459), (-8.4002658779, -40.0040686741))
        make_face()
        with BuildLine():
            ThreePointArc((19.5997341221, -40.0040686741), (14.7305783753, -36.1404323104), (9.8614226286, -40.0040686741))
            ThreePointArc((9.8614226286, -40.0040686741), (14.7305783753, -41.1404323104), (19.5997341221, -40.0040686741))
        make_face()
        with BuildLine():
            ThreePointArc((19.5997341221, -40.0040686741), (14.7305783753, -41.1404323104), (9.8614226286, -40.0040686741))
            ThreePointArc((9.8614226286, -40.0040686741), (14.1586425108, -46.10761354), (19.7305783753, -41.1404323104))
            ThreePointArc((19.7305783753, -41.1404323104), (19.6977596048, -40.5684964459), (19.5997341221, -40.0040686741))
        make_face()
        with BuildLine():
            ThreePointArc((47.5997341221, -40.0040686741), (42.7305783753, -36.1404323104), (37.8614226286, -40.0040686741))
            ThreePointArc((37.8614226286, -40.0040686741), (42.7305783753, -41.1404323104), (47.5997341221, -40.0040686741))
        make_face()
        with BuildLine():
            ThreePointArc((47.5997341221, -40.0040686741), (42.7305783753, -41.1404323104), (37.8614226286, -40.0040686741))
            ThreePointArc((37.8614226286, -40.0040686741), (42.1586425108, -46.10761354), (47.7305783753, -41.1404323104))
            ThreePointArc((47.7305783753, -41.1404323104), (47.6977596048, -40.5684964459), (47.5997341221, -40.0040686741))
        make_face()
    extrude(amount=-F4_DEPTH, mode=Mode.SUBTRACT)


with BuildPart() as f5:
    # F0 (on Top) → F5 (new body)
    with BuildSketch(Plane.XY):
        with Locations((-121.7445731163, 0)):
            Rectangle(F0_W_2, F0_H_2)
    extrude(amount=F5_DEPTH)

    # F6 (on face) → F7 (cut)
    with BuildSketch(Plane.XY.offset(10)):
        with BuildLine():
            ThreePointArc((-116.4721025407, -7.5858280997), (-111.9988626307, -3.5290534869), (-110.3412582874, 2.2778082639))
            ThreePointArc((-110.3412582874, 2.2778082639), (-127.1481200382, 11.6202039206), (-126.2104140342, -7.5858280997))
            ThreePointArc((-126.2104140342, -7.5858280997), (-121.3412582874, -3.7221917361), (-116.4721025407, -7.5858280997))
        make_face()
    extrude(amount=-F7_DEPTH, mode=Mode.SUBTRACT)

    # F6 (on face) → F8 (cut)
    with BuildSketch(Plane.XY.offset(10)):
        with BuildLine():
            ThreePointArc((-116.4721025407, -7.5858280997), (-121.3412582874, -8.7221917361), (-126.2104140342, -7.5858280997))
            ThreePointArc((-126.2104140342, -7.5858280997), (-121.913194152, -13.6893729656), (-116.3412582874, -8.7221917361))
            ThreePointArc((-116.3412582874, -8.7221917361), (-116.3740770579, -8.1502558715), (-116.4721025407, -7.5858280997))
        make_face()
        with BuildLine():
            ThreePointArc((-116.4721025407, -7.5858280997), (-121.3412582874, -3.7221917361), (-126.2104140342, -7.5858280997))
            ThreePointArc((-126.2104140342, -7.5858280997), (-121.3412582874, -8.7221917361), (-116.4721025407, -7.5858280997))
        make_face()
    extrude(amount=-F8_DEPTH, mode=Mode.SUBTRACT)


solid = Compound([f1.part, f5.part])
